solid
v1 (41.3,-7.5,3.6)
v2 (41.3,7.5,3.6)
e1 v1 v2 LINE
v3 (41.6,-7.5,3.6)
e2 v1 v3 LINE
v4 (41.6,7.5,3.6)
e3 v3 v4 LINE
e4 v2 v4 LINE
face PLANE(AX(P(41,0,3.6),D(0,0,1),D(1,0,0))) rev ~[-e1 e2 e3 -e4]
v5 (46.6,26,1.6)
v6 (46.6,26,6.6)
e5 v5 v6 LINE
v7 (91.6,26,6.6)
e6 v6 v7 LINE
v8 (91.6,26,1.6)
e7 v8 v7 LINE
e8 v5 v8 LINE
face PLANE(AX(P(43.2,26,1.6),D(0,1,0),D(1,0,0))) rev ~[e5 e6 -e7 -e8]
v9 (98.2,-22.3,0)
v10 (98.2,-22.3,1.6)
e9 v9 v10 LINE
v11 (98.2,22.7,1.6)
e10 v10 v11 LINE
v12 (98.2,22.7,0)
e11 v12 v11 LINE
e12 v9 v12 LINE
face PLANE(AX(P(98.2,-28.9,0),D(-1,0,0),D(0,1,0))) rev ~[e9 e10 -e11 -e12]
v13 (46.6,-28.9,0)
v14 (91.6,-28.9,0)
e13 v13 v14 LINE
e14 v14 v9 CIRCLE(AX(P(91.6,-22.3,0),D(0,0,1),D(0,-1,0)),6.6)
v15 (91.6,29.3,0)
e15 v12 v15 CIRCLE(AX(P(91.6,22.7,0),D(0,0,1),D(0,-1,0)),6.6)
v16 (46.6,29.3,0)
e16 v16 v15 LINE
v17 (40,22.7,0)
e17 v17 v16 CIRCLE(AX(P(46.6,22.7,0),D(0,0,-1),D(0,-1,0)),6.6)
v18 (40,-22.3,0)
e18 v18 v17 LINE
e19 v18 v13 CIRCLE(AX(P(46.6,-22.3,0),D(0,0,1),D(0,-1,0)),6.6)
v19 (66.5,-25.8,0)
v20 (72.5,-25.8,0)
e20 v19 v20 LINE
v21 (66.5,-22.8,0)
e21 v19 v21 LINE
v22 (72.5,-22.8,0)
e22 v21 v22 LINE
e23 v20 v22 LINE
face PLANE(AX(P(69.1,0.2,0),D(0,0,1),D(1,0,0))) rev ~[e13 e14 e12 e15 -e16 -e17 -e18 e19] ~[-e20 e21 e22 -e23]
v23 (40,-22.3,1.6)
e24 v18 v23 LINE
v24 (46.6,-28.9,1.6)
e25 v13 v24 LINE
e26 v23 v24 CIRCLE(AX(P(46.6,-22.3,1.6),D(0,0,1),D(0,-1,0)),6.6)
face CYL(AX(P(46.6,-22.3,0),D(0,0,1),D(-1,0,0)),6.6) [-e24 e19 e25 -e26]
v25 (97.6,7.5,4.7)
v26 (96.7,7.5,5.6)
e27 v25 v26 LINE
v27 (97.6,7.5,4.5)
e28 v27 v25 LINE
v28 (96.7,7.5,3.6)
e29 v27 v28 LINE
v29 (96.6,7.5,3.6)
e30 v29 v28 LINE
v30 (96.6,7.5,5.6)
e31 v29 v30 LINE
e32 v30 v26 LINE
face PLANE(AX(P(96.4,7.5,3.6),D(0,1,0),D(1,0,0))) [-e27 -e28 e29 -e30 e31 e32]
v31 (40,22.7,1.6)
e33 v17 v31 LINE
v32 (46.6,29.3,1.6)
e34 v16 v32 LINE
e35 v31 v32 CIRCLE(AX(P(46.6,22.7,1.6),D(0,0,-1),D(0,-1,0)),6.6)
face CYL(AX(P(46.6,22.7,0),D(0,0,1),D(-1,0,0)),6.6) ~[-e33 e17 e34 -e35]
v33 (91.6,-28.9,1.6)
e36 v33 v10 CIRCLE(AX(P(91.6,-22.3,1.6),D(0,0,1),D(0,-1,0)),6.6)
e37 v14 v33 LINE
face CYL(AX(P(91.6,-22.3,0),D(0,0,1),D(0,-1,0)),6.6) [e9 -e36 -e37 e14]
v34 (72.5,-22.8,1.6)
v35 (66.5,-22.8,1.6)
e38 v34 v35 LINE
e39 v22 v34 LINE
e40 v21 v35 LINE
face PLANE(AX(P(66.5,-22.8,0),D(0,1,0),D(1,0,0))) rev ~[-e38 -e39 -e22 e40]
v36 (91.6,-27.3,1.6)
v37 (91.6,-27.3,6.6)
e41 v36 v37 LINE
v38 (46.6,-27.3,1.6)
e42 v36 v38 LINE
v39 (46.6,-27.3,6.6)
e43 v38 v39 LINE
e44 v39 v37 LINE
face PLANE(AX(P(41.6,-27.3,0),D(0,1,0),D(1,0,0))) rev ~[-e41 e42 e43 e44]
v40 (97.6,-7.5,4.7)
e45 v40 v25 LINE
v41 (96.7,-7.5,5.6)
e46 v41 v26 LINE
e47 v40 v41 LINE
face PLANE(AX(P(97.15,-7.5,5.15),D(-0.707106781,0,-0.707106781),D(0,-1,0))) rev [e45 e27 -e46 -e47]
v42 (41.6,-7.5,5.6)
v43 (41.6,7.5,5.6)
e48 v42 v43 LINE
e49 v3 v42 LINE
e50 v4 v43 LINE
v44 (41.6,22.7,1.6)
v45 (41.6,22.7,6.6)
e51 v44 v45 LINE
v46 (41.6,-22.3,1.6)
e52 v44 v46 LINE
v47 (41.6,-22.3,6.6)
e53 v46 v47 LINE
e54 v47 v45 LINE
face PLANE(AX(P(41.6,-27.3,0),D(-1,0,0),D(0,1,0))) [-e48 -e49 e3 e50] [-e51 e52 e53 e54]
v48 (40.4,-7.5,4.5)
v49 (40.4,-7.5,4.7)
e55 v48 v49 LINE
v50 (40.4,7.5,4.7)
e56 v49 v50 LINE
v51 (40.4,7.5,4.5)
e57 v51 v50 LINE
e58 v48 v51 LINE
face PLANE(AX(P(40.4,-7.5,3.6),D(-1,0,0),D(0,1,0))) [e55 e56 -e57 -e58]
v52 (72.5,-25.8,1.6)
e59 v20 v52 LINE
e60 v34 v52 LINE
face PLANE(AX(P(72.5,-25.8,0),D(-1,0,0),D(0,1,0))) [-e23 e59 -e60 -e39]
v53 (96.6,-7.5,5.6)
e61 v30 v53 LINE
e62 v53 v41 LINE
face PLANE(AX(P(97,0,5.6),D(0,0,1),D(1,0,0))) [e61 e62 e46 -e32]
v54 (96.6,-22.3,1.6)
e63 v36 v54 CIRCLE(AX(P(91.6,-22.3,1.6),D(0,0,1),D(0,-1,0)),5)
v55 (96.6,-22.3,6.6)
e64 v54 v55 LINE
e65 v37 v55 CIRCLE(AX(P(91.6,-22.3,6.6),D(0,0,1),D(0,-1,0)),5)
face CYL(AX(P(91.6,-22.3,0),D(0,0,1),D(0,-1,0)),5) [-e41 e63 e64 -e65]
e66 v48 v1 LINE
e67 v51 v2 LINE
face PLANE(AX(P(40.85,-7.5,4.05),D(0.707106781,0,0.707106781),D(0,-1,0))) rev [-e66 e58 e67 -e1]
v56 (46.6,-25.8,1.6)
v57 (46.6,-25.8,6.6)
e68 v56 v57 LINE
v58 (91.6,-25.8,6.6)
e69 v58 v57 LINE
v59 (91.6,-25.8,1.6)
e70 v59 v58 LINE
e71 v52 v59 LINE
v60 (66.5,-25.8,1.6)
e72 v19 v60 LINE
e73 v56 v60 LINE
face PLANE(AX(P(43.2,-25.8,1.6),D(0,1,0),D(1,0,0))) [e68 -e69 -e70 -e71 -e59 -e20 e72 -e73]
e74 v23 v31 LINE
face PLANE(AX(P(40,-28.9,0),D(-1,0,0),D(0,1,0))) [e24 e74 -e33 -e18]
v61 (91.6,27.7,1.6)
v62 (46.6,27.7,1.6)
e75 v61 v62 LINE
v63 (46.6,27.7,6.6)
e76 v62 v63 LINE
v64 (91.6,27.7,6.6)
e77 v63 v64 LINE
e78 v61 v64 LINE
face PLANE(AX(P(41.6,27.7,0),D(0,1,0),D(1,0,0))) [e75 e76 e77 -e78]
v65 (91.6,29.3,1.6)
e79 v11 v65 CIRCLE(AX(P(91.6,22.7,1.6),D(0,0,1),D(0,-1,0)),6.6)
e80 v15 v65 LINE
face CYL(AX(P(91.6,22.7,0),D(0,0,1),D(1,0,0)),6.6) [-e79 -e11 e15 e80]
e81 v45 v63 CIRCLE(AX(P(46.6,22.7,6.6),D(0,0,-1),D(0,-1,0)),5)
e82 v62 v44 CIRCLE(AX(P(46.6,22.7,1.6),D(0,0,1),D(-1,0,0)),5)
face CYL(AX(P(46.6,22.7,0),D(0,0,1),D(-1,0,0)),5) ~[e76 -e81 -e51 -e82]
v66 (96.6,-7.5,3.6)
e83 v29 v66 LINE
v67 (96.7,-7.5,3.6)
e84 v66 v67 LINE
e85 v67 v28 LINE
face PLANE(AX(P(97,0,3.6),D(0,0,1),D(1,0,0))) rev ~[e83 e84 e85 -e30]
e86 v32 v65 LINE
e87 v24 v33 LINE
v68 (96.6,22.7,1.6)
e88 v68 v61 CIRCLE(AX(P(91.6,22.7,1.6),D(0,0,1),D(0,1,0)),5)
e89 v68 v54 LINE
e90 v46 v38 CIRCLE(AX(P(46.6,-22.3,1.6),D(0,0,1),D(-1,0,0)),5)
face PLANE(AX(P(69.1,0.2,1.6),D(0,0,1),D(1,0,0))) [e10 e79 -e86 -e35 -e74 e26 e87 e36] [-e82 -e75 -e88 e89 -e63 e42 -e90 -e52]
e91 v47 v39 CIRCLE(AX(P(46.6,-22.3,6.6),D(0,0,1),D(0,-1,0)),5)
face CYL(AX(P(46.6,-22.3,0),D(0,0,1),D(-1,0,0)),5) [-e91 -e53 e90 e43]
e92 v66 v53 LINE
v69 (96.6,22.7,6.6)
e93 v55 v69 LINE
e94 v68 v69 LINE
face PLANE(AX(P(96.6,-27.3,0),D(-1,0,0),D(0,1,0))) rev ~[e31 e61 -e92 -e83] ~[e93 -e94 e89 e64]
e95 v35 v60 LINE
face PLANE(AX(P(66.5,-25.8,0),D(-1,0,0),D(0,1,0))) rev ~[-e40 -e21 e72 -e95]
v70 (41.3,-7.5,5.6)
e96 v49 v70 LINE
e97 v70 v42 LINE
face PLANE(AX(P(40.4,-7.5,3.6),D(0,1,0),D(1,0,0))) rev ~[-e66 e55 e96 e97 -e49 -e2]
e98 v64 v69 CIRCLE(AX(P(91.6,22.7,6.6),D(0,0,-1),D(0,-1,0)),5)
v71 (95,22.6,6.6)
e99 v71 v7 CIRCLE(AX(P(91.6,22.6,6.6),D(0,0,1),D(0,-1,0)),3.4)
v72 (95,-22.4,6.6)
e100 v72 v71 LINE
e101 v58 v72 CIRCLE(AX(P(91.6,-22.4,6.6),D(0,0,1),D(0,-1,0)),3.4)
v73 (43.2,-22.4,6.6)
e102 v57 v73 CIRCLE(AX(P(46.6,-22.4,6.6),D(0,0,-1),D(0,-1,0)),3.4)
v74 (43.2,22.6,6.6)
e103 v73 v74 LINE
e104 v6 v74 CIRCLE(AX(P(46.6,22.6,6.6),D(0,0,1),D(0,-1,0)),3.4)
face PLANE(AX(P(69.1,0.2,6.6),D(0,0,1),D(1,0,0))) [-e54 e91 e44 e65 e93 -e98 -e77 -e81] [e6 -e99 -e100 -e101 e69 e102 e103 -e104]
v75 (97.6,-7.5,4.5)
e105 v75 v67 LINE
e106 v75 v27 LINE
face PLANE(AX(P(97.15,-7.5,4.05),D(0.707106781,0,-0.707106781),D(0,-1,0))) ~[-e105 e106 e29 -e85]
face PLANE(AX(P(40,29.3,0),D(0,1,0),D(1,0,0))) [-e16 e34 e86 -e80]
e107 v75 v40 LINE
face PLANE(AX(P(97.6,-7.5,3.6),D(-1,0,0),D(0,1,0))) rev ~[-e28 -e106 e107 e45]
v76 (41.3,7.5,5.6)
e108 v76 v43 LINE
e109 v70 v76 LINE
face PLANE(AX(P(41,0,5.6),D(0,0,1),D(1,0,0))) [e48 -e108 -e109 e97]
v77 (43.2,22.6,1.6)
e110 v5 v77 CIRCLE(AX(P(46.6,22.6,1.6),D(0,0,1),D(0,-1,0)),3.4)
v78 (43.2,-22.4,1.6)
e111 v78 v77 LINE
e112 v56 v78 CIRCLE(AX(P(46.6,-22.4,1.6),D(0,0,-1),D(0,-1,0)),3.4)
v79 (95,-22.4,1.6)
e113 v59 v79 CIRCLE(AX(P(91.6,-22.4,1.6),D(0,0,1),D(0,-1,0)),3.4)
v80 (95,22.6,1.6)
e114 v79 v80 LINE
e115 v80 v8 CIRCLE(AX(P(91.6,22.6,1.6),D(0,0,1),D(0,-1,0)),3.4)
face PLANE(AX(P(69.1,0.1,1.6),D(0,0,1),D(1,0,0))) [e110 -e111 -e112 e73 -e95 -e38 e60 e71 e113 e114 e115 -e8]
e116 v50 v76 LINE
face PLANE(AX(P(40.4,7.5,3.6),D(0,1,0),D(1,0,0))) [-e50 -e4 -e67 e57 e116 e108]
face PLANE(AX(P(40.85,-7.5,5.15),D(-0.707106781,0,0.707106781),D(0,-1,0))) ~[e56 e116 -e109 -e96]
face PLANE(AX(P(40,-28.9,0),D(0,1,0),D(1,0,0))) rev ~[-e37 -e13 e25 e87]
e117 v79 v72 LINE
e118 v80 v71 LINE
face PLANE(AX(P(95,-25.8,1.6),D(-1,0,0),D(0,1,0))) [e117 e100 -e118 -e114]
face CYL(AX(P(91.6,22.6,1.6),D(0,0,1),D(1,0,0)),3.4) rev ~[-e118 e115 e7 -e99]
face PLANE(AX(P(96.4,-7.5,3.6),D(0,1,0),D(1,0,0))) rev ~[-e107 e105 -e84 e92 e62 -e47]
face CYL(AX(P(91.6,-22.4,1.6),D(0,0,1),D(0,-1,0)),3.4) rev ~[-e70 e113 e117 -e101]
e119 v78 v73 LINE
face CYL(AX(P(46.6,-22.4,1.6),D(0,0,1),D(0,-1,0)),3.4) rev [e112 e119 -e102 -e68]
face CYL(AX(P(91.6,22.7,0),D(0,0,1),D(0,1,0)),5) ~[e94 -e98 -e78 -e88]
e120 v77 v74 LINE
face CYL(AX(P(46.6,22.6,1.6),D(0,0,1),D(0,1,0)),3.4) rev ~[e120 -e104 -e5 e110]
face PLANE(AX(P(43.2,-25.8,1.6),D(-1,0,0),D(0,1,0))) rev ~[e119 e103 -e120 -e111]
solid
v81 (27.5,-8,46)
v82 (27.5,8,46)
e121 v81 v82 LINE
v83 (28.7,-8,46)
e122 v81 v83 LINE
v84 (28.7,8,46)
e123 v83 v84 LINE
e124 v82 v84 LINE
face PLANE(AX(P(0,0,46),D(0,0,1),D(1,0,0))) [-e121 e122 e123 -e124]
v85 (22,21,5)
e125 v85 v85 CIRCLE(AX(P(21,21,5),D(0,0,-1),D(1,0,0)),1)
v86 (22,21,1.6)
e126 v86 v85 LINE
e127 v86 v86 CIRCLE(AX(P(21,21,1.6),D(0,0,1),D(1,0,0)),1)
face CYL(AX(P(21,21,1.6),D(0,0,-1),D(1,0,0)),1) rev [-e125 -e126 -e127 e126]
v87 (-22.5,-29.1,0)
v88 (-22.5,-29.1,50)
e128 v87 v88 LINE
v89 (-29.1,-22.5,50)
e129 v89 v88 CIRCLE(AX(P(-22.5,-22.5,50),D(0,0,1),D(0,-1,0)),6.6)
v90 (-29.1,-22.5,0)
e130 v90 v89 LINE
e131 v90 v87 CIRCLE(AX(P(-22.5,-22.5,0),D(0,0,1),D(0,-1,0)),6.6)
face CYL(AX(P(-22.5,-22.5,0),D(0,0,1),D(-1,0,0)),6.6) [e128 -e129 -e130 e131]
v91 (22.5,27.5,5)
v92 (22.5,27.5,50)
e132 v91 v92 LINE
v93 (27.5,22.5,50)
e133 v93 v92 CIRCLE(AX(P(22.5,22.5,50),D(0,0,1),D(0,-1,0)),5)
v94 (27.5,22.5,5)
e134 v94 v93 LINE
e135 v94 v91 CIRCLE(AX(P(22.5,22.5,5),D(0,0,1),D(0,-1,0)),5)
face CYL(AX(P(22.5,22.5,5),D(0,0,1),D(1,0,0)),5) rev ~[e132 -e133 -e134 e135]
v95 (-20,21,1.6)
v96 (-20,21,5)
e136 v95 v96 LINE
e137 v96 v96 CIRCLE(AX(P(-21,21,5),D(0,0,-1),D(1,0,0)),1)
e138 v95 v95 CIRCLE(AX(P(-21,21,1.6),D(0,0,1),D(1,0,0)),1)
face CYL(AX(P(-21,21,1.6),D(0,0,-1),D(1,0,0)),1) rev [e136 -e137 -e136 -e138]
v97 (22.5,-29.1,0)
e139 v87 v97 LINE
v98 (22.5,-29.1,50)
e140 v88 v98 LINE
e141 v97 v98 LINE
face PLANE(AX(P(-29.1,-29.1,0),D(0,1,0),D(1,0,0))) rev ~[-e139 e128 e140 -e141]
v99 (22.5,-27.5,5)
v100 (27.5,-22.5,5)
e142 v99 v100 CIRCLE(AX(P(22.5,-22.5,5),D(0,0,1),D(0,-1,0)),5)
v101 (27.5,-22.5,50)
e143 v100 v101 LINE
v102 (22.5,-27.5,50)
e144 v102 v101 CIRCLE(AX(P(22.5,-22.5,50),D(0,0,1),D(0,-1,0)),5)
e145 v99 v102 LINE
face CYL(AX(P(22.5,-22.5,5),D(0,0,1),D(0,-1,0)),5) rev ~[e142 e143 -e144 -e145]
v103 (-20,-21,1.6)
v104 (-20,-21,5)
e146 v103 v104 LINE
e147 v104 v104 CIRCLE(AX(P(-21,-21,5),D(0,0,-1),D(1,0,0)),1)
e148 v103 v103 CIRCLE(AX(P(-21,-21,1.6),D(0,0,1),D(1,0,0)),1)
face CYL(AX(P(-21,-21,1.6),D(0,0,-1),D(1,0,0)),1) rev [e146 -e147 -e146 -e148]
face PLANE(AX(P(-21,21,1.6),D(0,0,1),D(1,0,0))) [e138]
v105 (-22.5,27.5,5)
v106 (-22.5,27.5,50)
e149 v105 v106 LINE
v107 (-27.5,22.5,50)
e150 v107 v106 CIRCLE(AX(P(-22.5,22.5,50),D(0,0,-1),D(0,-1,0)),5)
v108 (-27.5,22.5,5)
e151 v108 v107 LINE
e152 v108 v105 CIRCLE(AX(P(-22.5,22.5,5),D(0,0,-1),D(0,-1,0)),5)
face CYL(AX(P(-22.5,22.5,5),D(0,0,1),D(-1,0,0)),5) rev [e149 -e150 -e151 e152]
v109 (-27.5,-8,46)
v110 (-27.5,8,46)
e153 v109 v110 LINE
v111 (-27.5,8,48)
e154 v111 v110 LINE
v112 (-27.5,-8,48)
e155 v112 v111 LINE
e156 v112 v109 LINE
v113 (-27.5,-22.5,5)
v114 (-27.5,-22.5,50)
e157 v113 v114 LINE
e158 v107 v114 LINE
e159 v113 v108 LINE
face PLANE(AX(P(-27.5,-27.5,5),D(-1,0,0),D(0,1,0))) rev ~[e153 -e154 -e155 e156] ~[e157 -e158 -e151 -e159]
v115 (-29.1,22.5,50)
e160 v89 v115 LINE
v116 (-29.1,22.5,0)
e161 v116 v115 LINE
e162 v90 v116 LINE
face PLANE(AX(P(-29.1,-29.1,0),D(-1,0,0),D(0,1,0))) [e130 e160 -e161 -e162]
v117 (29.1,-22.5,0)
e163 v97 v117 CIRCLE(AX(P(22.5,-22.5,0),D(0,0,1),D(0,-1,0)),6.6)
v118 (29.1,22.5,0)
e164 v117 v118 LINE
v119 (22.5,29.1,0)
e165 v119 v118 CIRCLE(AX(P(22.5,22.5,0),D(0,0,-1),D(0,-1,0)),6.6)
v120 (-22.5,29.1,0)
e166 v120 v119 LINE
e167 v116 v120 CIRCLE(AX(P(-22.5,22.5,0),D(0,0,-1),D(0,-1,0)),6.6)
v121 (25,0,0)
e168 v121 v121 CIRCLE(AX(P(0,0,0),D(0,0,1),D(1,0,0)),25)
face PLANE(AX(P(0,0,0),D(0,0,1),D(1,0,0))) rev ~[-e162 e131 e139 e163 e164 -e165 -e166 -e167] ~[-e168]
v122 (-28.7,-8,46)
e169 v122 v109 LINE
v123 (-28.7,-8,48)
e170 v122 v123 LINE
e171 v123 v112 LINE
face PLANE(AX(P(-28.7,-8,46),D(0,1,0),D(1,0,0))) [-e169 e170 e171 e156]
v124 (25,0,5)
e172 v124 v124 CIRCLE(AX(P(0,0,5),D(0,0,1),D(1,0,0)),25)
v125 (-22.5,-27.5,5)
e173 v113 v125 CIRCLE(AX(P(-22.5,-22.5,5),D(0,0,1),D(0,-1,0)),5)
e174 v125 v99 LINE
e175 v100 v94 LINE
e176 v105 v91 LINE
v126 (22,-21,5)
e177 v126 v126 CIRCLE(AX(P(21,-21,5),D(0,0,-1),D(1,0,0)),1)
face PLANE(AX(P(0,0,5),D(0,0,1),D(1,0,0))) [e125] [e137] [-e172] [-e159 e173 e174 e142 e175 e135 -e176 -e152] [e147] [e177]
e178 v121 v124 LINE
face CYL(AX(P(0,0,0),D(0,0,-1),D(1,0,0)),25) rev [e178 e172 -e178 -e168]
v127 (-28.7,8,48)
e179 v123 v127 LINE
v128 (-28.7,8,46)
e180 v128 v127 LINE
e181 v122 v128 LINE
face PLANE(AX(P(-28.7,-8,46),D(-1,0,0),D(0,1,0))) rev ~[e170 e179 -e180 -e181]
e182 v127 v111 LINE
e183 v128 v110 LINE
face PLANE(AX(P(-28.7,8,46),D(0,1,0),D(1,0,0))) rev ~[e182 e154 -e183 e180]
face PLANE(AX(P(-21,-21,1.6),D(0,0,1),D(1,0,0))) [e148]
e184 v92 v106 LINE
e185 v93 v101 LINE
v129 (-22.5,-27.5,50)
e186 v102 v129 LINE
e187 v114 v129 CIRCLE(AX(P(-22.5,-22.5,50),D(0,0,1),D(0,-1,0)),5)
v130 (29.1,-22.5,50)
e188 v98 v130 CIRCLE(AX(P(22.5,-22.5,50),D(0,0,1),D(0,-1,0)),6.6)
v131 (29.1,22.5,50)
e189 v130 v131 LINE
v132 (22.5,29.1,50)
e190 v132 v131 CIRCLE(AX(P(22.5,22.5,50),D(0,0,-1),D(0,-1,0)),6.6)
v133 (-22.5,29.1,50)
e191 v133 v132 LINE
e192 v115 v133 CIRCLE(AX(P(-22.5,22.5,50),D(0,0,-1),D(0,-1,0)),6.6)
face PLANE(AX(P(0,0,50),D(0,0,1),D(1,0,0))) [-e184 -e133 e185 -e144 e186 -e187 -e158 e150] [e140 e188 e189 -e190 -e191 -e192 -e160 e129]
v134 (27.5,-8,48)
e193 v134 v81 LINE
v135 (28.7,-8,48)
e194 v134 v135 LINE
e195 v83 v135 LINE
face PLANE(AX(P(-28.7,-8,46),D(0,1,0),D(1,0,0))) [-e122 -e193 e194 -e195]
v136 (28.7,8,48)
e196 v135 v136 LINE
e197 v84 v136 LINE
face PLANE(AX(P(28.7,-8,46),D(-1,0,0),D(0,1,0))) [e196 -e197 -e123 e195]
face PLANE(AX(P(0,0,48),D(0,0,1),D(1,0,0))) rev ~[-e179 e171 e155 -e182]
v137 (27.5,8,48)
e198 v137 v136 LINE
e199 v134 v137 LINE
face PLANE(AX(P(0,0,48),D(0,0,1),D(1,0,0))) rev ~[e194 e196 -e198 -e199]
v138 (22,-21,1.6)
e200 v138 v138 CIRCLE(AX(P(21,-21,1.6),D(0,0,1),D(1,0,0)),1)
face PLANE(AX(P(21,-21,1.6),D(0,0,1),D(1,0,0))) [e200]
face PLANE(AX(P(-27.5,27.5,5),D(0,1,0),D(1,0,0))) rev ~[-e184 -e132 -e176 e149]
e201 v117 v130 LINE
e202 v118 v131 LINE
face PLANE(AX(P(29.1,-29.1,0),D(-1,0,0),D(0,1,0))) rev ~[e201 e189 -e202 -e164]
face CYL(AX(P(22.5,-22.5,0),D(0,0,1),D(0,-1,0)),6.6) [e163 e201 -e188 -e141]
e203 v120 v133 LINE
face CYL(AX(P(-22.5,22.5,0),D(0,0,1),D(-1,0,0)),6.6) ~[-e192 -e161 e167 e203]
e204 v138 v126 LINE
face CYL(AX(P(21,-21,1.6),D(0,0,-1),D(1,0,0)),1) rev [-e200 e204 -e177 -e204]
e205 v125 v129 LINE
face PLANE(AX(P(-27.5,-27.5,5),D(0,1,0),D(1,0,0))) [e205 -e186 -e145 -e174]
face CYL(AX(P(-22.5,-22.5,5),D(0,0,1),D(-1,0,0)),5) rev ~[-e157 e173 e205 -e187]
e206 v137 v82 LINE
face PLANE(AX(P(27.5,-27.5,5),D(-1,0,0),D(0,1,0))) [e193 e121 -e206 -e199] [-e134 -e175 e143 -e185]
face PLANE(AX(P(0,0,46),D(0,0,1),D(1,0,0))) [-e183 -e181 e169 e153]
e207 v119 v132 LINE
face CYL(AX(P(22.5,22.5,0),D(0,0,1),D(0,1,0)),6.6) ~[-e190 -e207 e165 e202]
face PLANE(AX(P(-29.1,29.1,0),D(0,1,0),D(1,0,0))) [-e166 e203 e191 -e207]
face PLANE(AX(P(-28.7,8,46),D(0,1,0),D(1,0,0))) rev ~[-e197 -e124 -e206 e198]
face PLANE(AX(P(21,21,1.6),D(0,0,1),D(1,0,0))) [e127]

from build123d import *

# Parameters (mm, degrees)
BOX006_W          = 57.4
BOX006_H          = 16
BOX006_DEPTH      = 2
BOX005_W          = 6
BOX005_H          = 3
BOX005_DEPTH      = 10
BOX004_W          = 51.8
BOX004_H          = 51.8
BOX004_DEPTH      = 5
BOX003_W          = 55
BOX003_H          = 55
BOX003_DEPTH      = 6.6
FILLET003_R       = 3.4
FILLET004_R       = 5
BOX002_W          = 58.2
BOX002_H          = 58.2
BOX002_DEPTH      = 1.6
FILLET002_R       = 6.6
CYLINDER003_R     = 1
CYLINDER003_DEPTH = 10
CYLINDER002_R     = 1
CYLINDER002_DEPTH = 10
CYLINDER001_R     = 1
CYLINDER001_DEPTH = 10
CYLINDER004_R     = 1
CYLINDER004_DEPTH = 10
CYLINDER_R        = 25
CYLINDER_DEPTH    = 5
BOX_W             = 55
BOX_H             = 55
BOX_DEPTH         = 50
BOX001_W          = 58.2
BOX001_H          = 58.2
BOX001_DEPTH      = 50
FILLET_R          = 5
FILLET001_R       = 6.6
BOX008_W          = 1.2
BOX008_H          = 15
BOX008_DEPTH      = 2
CHAMFER001_SIZE   = 0.9
BOX007_W          = 1.2
BOX007_H          = 15
BOX007_DEPTH      = 2
CHAMFER_SIZE      = 0.9


with BuildPart() as w_rfel006:
    # Box006 → Box006 (new body)
    with BuildSketch(Plane(origin=(-28.7, -8, 46), x_dir=(1, 0, 0), z_dir=(0, 0, 1))):
        with Locations((28.7, 8)):
            Rectangle(BOX006_W, BOX006_H)
    extrude(amount=BOX006_DEPTH)


with BuildPart() as w_rfel005:
    # Box005 → Box005 (new body)
    with BuildSketch(Plane(origin=(66.5, -25.8, 0), x_dir=(1, 0, 0), z_dir=(0, 0, 1))):
        with Locations((3, 1.5)):
            Rectangle(BOX005_W, BOX005_H)
    extrude(amount=BOX005_DEPTH)


with BuildPart() as w_rfel004:
    # Box004 → Box004 (new body)
    with BuildSketch(Plane(origin=(43.2, -25.8, 1.6), x_dir=(1, 0, 0), z_dir=(0, 0, 1))):
        with Locations((25.9, 25.9)):
            Rectangle(BOX004_W, BOX004_H)
    extrude(amount=BOX004_DEPTH)


with BuildPart() as fillet004:
    # Box003 → Box003 (new body)
    with BuildSketch(Plane(origin=(41.6, -27.3, 0), x_dir=(1, 0, 0), z_dir=(0, 0, 1))):
        with Locations((27.5, 27.5)):
            Rectangle(BOX003_W, BOX003_H)
    extrude(amount=BOX003_DEPTH)

    # Cut003: cut Würfel004
    add(w_rfel004.part, mode=Mode.SUBTRACT)

    # Fillet003
    fillet003_edges = [fillet004.edges().sort_by_distance(p)[0] for p in [
        (95, -25.8, 4.1),
        (95, 26, 4.1),
        (43.2, 26, 4.1),
        (43.2, -25.8, 4.1),
    ]]
    fillet(fillet003_edges, radius=FILLET003_R)

    # Fillet004
    fillet004_edges = [fillet004.edges().sort_by_distance(p)[0] for p in [
        (41.6, -27.3, 3.3),
        (41.6, 27.7, 3.3),
        (96.6, 27.7, 3.3),
        (96.6, -27.3, 3.3),
    ]]
    fillet(fillet004_edges, radius=FILLET004_R)


with BuildPart() as cut004:
    # Box002 → Box002 (new body)
    with BuildSketch(Plane(origin=(40, -28.9, 0), x_dir=(1, 0, 0), z_dir=(0, 0, 1))):
        with Locations((29.1, 29.1)):
            Rectangle(BOX002_W, BOX002_H)
    extrude(amount=BOX002_DEPTH)

    # Fillet002
    fillet002_edges = [cut004.edges().sort_by_distance(p)[0] for p in [
        (40, -28.9, 0.8),
        (40, 29.3, 0.8),
        (98.2, -28.9, 0.8),
        (98.2, 29.3, 0.8),
    ]]
    fillet(fillet002_edges, radius=FILLET002_R)

    # Fusion001: union Fillet004
    add(fillet004.part)

    # Cut004: cut Würfel005
    add(w_rfel005.part, mode=Mode.SUBTRACT)


with BuildPart() as zylinder003:
    # Cylinder003 → Cylinder003 (new body)
    with BuildSketch(Plane(origin=(-21, 21, 1.6), x_dir=(1, 0, 0), z_dir=(0, 0, 1))):
        Circle(CYLINDER003_R)
    extrude(amount=CYLINDER003_DEPTH)


with BuildPart() as zylinder002:
    # Cylinder002 → Cylinder002 (new body)
    with BuildSketch(Plane(origin=(21, -21, 1.6), x_dir=(1, 0, 0), z_dir=(0, 0, 1))):
        Circle(CYLINDER002_R)
    extrude(amount=CYLINDER002_DEPTH)


with BuildPart() as zylinder001:
    # Cylinder001 → Cylinder001 (new body)
    with BuildSketch(Plane(origin=(21, 21, 1.6), x_dir=(1, 0, 0), z_dir=(0, 0, 1))):
        Circle(CYLINDER001_R)
    extrude(amount=CYLINDER001_DEPTH)


with BuildPart() as fusion:
    # Cylinder004 → Cylinder004 (new body)
    with BuildSketch(Plane(origin=(-21, -21, 1.6), x_dir=(1, 0, 0), z_dir=(0, 0, 1))):
        Circle(CYLINDER004_R)
    extrude(amount=CYLINDER004_DEPTH)

    # Fusion: union Zylinder003, Zylinder002, Zylinder001
    add(zylinder003.part)
    add(zylinder002.part)
    add(zylinder001.part)


with BuildPart() as zylinder:
    # Cylinder → Cylinder (new body)
    with BuildSketch(Plane.XY):
        Circle(CYLINDER_R)
    extrude(amount=CYLINDER_DEPTH)


with BuildPart() as w_rfel:
    # Box → Box (new body)
    with BuildSketch(Plane(origin=(-27.5, -27.5, 5), x_dir=(1, 0, 0), z_dir=(0, 0, 1))):
        with Locations((27.5, 27.5)):
            Rectangle(BOX_W, BOX_H)
    extrude(amount=BOX_DEPTH)


with BuildPart() as cut005:
    # Box001 → Box001 (new body)
    with BuildSketch(Plane(origin=(-29.1, -29.1, 0), x_dir=(1, 0, 0), z_dir=(0, 0, 1))):
        with Locations((29.1, 29.1)):
            Rectangle(BOX001_W, BOX001_H)
    extrude(amount=BOX001_DEPTH)

    # Cut: cut Würfel
    add(w_rfel.part, mode=Mode.SUBTRACT)

    # Cut001: cut Zylinder
    add(zylinder.part, mode=Mode.SUBTRACT)

    # Fillet
    fillet_edges = [cut005.edges().sort_by_distance(p)[0] for p in [
        (27.5, -27.5, 27.5),
        (27.5, 27.5, 27.5),
        (-27.5, 27.5, 27.5),
        (-27.5, -27.5, 27.5),
    ]]
    fillet(fillet_edges, radius=FILLET_R)

    # Fillet001
    fillet001_edges = [cut005.edges().sort_by_distance(p)[0] for p in [
        (-29.1, -29.1, 25),
        (-29.1, 29.1, 25),
        (29.1, 29.1, 25),
        (29.1, -29.1, 25),
    ]]
    fillet(fillet001_edges, radius=FILLET001_R)

    # Cut002: cut Fusion
    add(fusion.part, mode=Mode.SUBTRACT)

    # Fusion002: union Cut004
    add(cut004.part)

    # Cut005: cut Würfel006
    add(w_rfel006.part, mode=Mode.SUBTRACT)


with BuildPart() as chamfer001:
    # Box008 → Box008 (new body)
    with BuildSketch(Plane(origin=(96.4, -7.5, 3.6), x_dir=(1, 0, 0), z_dir=(0, 0, 1))):
        with Locations((0.6, 7.5)):
            Rectangle(BOX008_W, BOX008_H)
    extrude(amount=BOX008_DEPTH)

    # Chamfer001
    chamfer001_edges = [chamfer001.edges().sort_by_distance(p)[0] for p in [
        (97.6, 0, 5.6),
        (97.6, 0, 3.6),
    ]]
    chamfer(chamfer001_edges, length=CHAMFER001_SIZE)


with BuildPart() as fusion004:
    # Box007 → Box007 (new body)
    with BuildSketch(Plane(origin=(40.4, -7.5, 3.6), x_dir=(1, 0, 0), z_dir=(0, 0, 1))):
        with Locations((0.6, 7.5)):
            Rectangle(BOX007_W, BOX007_H)
    extrude(amount=BOX007_DEPTH)

    # Chamfer
    chamfer_edges = [fusion004.edges().sort_by_distance(p)[0] for p in [
        (40.4, 0, 5.6),
        (40.4, 0, 3.6),
    ]]
    chamfer(chamfer_edges, length=CHAMFER_SIZE)

    # Fusion003: union Chamfer001
    add(chamfer001.part)

    # Fusion004: union Cut005
    add(cut005.part)


solid = fusion004.part
